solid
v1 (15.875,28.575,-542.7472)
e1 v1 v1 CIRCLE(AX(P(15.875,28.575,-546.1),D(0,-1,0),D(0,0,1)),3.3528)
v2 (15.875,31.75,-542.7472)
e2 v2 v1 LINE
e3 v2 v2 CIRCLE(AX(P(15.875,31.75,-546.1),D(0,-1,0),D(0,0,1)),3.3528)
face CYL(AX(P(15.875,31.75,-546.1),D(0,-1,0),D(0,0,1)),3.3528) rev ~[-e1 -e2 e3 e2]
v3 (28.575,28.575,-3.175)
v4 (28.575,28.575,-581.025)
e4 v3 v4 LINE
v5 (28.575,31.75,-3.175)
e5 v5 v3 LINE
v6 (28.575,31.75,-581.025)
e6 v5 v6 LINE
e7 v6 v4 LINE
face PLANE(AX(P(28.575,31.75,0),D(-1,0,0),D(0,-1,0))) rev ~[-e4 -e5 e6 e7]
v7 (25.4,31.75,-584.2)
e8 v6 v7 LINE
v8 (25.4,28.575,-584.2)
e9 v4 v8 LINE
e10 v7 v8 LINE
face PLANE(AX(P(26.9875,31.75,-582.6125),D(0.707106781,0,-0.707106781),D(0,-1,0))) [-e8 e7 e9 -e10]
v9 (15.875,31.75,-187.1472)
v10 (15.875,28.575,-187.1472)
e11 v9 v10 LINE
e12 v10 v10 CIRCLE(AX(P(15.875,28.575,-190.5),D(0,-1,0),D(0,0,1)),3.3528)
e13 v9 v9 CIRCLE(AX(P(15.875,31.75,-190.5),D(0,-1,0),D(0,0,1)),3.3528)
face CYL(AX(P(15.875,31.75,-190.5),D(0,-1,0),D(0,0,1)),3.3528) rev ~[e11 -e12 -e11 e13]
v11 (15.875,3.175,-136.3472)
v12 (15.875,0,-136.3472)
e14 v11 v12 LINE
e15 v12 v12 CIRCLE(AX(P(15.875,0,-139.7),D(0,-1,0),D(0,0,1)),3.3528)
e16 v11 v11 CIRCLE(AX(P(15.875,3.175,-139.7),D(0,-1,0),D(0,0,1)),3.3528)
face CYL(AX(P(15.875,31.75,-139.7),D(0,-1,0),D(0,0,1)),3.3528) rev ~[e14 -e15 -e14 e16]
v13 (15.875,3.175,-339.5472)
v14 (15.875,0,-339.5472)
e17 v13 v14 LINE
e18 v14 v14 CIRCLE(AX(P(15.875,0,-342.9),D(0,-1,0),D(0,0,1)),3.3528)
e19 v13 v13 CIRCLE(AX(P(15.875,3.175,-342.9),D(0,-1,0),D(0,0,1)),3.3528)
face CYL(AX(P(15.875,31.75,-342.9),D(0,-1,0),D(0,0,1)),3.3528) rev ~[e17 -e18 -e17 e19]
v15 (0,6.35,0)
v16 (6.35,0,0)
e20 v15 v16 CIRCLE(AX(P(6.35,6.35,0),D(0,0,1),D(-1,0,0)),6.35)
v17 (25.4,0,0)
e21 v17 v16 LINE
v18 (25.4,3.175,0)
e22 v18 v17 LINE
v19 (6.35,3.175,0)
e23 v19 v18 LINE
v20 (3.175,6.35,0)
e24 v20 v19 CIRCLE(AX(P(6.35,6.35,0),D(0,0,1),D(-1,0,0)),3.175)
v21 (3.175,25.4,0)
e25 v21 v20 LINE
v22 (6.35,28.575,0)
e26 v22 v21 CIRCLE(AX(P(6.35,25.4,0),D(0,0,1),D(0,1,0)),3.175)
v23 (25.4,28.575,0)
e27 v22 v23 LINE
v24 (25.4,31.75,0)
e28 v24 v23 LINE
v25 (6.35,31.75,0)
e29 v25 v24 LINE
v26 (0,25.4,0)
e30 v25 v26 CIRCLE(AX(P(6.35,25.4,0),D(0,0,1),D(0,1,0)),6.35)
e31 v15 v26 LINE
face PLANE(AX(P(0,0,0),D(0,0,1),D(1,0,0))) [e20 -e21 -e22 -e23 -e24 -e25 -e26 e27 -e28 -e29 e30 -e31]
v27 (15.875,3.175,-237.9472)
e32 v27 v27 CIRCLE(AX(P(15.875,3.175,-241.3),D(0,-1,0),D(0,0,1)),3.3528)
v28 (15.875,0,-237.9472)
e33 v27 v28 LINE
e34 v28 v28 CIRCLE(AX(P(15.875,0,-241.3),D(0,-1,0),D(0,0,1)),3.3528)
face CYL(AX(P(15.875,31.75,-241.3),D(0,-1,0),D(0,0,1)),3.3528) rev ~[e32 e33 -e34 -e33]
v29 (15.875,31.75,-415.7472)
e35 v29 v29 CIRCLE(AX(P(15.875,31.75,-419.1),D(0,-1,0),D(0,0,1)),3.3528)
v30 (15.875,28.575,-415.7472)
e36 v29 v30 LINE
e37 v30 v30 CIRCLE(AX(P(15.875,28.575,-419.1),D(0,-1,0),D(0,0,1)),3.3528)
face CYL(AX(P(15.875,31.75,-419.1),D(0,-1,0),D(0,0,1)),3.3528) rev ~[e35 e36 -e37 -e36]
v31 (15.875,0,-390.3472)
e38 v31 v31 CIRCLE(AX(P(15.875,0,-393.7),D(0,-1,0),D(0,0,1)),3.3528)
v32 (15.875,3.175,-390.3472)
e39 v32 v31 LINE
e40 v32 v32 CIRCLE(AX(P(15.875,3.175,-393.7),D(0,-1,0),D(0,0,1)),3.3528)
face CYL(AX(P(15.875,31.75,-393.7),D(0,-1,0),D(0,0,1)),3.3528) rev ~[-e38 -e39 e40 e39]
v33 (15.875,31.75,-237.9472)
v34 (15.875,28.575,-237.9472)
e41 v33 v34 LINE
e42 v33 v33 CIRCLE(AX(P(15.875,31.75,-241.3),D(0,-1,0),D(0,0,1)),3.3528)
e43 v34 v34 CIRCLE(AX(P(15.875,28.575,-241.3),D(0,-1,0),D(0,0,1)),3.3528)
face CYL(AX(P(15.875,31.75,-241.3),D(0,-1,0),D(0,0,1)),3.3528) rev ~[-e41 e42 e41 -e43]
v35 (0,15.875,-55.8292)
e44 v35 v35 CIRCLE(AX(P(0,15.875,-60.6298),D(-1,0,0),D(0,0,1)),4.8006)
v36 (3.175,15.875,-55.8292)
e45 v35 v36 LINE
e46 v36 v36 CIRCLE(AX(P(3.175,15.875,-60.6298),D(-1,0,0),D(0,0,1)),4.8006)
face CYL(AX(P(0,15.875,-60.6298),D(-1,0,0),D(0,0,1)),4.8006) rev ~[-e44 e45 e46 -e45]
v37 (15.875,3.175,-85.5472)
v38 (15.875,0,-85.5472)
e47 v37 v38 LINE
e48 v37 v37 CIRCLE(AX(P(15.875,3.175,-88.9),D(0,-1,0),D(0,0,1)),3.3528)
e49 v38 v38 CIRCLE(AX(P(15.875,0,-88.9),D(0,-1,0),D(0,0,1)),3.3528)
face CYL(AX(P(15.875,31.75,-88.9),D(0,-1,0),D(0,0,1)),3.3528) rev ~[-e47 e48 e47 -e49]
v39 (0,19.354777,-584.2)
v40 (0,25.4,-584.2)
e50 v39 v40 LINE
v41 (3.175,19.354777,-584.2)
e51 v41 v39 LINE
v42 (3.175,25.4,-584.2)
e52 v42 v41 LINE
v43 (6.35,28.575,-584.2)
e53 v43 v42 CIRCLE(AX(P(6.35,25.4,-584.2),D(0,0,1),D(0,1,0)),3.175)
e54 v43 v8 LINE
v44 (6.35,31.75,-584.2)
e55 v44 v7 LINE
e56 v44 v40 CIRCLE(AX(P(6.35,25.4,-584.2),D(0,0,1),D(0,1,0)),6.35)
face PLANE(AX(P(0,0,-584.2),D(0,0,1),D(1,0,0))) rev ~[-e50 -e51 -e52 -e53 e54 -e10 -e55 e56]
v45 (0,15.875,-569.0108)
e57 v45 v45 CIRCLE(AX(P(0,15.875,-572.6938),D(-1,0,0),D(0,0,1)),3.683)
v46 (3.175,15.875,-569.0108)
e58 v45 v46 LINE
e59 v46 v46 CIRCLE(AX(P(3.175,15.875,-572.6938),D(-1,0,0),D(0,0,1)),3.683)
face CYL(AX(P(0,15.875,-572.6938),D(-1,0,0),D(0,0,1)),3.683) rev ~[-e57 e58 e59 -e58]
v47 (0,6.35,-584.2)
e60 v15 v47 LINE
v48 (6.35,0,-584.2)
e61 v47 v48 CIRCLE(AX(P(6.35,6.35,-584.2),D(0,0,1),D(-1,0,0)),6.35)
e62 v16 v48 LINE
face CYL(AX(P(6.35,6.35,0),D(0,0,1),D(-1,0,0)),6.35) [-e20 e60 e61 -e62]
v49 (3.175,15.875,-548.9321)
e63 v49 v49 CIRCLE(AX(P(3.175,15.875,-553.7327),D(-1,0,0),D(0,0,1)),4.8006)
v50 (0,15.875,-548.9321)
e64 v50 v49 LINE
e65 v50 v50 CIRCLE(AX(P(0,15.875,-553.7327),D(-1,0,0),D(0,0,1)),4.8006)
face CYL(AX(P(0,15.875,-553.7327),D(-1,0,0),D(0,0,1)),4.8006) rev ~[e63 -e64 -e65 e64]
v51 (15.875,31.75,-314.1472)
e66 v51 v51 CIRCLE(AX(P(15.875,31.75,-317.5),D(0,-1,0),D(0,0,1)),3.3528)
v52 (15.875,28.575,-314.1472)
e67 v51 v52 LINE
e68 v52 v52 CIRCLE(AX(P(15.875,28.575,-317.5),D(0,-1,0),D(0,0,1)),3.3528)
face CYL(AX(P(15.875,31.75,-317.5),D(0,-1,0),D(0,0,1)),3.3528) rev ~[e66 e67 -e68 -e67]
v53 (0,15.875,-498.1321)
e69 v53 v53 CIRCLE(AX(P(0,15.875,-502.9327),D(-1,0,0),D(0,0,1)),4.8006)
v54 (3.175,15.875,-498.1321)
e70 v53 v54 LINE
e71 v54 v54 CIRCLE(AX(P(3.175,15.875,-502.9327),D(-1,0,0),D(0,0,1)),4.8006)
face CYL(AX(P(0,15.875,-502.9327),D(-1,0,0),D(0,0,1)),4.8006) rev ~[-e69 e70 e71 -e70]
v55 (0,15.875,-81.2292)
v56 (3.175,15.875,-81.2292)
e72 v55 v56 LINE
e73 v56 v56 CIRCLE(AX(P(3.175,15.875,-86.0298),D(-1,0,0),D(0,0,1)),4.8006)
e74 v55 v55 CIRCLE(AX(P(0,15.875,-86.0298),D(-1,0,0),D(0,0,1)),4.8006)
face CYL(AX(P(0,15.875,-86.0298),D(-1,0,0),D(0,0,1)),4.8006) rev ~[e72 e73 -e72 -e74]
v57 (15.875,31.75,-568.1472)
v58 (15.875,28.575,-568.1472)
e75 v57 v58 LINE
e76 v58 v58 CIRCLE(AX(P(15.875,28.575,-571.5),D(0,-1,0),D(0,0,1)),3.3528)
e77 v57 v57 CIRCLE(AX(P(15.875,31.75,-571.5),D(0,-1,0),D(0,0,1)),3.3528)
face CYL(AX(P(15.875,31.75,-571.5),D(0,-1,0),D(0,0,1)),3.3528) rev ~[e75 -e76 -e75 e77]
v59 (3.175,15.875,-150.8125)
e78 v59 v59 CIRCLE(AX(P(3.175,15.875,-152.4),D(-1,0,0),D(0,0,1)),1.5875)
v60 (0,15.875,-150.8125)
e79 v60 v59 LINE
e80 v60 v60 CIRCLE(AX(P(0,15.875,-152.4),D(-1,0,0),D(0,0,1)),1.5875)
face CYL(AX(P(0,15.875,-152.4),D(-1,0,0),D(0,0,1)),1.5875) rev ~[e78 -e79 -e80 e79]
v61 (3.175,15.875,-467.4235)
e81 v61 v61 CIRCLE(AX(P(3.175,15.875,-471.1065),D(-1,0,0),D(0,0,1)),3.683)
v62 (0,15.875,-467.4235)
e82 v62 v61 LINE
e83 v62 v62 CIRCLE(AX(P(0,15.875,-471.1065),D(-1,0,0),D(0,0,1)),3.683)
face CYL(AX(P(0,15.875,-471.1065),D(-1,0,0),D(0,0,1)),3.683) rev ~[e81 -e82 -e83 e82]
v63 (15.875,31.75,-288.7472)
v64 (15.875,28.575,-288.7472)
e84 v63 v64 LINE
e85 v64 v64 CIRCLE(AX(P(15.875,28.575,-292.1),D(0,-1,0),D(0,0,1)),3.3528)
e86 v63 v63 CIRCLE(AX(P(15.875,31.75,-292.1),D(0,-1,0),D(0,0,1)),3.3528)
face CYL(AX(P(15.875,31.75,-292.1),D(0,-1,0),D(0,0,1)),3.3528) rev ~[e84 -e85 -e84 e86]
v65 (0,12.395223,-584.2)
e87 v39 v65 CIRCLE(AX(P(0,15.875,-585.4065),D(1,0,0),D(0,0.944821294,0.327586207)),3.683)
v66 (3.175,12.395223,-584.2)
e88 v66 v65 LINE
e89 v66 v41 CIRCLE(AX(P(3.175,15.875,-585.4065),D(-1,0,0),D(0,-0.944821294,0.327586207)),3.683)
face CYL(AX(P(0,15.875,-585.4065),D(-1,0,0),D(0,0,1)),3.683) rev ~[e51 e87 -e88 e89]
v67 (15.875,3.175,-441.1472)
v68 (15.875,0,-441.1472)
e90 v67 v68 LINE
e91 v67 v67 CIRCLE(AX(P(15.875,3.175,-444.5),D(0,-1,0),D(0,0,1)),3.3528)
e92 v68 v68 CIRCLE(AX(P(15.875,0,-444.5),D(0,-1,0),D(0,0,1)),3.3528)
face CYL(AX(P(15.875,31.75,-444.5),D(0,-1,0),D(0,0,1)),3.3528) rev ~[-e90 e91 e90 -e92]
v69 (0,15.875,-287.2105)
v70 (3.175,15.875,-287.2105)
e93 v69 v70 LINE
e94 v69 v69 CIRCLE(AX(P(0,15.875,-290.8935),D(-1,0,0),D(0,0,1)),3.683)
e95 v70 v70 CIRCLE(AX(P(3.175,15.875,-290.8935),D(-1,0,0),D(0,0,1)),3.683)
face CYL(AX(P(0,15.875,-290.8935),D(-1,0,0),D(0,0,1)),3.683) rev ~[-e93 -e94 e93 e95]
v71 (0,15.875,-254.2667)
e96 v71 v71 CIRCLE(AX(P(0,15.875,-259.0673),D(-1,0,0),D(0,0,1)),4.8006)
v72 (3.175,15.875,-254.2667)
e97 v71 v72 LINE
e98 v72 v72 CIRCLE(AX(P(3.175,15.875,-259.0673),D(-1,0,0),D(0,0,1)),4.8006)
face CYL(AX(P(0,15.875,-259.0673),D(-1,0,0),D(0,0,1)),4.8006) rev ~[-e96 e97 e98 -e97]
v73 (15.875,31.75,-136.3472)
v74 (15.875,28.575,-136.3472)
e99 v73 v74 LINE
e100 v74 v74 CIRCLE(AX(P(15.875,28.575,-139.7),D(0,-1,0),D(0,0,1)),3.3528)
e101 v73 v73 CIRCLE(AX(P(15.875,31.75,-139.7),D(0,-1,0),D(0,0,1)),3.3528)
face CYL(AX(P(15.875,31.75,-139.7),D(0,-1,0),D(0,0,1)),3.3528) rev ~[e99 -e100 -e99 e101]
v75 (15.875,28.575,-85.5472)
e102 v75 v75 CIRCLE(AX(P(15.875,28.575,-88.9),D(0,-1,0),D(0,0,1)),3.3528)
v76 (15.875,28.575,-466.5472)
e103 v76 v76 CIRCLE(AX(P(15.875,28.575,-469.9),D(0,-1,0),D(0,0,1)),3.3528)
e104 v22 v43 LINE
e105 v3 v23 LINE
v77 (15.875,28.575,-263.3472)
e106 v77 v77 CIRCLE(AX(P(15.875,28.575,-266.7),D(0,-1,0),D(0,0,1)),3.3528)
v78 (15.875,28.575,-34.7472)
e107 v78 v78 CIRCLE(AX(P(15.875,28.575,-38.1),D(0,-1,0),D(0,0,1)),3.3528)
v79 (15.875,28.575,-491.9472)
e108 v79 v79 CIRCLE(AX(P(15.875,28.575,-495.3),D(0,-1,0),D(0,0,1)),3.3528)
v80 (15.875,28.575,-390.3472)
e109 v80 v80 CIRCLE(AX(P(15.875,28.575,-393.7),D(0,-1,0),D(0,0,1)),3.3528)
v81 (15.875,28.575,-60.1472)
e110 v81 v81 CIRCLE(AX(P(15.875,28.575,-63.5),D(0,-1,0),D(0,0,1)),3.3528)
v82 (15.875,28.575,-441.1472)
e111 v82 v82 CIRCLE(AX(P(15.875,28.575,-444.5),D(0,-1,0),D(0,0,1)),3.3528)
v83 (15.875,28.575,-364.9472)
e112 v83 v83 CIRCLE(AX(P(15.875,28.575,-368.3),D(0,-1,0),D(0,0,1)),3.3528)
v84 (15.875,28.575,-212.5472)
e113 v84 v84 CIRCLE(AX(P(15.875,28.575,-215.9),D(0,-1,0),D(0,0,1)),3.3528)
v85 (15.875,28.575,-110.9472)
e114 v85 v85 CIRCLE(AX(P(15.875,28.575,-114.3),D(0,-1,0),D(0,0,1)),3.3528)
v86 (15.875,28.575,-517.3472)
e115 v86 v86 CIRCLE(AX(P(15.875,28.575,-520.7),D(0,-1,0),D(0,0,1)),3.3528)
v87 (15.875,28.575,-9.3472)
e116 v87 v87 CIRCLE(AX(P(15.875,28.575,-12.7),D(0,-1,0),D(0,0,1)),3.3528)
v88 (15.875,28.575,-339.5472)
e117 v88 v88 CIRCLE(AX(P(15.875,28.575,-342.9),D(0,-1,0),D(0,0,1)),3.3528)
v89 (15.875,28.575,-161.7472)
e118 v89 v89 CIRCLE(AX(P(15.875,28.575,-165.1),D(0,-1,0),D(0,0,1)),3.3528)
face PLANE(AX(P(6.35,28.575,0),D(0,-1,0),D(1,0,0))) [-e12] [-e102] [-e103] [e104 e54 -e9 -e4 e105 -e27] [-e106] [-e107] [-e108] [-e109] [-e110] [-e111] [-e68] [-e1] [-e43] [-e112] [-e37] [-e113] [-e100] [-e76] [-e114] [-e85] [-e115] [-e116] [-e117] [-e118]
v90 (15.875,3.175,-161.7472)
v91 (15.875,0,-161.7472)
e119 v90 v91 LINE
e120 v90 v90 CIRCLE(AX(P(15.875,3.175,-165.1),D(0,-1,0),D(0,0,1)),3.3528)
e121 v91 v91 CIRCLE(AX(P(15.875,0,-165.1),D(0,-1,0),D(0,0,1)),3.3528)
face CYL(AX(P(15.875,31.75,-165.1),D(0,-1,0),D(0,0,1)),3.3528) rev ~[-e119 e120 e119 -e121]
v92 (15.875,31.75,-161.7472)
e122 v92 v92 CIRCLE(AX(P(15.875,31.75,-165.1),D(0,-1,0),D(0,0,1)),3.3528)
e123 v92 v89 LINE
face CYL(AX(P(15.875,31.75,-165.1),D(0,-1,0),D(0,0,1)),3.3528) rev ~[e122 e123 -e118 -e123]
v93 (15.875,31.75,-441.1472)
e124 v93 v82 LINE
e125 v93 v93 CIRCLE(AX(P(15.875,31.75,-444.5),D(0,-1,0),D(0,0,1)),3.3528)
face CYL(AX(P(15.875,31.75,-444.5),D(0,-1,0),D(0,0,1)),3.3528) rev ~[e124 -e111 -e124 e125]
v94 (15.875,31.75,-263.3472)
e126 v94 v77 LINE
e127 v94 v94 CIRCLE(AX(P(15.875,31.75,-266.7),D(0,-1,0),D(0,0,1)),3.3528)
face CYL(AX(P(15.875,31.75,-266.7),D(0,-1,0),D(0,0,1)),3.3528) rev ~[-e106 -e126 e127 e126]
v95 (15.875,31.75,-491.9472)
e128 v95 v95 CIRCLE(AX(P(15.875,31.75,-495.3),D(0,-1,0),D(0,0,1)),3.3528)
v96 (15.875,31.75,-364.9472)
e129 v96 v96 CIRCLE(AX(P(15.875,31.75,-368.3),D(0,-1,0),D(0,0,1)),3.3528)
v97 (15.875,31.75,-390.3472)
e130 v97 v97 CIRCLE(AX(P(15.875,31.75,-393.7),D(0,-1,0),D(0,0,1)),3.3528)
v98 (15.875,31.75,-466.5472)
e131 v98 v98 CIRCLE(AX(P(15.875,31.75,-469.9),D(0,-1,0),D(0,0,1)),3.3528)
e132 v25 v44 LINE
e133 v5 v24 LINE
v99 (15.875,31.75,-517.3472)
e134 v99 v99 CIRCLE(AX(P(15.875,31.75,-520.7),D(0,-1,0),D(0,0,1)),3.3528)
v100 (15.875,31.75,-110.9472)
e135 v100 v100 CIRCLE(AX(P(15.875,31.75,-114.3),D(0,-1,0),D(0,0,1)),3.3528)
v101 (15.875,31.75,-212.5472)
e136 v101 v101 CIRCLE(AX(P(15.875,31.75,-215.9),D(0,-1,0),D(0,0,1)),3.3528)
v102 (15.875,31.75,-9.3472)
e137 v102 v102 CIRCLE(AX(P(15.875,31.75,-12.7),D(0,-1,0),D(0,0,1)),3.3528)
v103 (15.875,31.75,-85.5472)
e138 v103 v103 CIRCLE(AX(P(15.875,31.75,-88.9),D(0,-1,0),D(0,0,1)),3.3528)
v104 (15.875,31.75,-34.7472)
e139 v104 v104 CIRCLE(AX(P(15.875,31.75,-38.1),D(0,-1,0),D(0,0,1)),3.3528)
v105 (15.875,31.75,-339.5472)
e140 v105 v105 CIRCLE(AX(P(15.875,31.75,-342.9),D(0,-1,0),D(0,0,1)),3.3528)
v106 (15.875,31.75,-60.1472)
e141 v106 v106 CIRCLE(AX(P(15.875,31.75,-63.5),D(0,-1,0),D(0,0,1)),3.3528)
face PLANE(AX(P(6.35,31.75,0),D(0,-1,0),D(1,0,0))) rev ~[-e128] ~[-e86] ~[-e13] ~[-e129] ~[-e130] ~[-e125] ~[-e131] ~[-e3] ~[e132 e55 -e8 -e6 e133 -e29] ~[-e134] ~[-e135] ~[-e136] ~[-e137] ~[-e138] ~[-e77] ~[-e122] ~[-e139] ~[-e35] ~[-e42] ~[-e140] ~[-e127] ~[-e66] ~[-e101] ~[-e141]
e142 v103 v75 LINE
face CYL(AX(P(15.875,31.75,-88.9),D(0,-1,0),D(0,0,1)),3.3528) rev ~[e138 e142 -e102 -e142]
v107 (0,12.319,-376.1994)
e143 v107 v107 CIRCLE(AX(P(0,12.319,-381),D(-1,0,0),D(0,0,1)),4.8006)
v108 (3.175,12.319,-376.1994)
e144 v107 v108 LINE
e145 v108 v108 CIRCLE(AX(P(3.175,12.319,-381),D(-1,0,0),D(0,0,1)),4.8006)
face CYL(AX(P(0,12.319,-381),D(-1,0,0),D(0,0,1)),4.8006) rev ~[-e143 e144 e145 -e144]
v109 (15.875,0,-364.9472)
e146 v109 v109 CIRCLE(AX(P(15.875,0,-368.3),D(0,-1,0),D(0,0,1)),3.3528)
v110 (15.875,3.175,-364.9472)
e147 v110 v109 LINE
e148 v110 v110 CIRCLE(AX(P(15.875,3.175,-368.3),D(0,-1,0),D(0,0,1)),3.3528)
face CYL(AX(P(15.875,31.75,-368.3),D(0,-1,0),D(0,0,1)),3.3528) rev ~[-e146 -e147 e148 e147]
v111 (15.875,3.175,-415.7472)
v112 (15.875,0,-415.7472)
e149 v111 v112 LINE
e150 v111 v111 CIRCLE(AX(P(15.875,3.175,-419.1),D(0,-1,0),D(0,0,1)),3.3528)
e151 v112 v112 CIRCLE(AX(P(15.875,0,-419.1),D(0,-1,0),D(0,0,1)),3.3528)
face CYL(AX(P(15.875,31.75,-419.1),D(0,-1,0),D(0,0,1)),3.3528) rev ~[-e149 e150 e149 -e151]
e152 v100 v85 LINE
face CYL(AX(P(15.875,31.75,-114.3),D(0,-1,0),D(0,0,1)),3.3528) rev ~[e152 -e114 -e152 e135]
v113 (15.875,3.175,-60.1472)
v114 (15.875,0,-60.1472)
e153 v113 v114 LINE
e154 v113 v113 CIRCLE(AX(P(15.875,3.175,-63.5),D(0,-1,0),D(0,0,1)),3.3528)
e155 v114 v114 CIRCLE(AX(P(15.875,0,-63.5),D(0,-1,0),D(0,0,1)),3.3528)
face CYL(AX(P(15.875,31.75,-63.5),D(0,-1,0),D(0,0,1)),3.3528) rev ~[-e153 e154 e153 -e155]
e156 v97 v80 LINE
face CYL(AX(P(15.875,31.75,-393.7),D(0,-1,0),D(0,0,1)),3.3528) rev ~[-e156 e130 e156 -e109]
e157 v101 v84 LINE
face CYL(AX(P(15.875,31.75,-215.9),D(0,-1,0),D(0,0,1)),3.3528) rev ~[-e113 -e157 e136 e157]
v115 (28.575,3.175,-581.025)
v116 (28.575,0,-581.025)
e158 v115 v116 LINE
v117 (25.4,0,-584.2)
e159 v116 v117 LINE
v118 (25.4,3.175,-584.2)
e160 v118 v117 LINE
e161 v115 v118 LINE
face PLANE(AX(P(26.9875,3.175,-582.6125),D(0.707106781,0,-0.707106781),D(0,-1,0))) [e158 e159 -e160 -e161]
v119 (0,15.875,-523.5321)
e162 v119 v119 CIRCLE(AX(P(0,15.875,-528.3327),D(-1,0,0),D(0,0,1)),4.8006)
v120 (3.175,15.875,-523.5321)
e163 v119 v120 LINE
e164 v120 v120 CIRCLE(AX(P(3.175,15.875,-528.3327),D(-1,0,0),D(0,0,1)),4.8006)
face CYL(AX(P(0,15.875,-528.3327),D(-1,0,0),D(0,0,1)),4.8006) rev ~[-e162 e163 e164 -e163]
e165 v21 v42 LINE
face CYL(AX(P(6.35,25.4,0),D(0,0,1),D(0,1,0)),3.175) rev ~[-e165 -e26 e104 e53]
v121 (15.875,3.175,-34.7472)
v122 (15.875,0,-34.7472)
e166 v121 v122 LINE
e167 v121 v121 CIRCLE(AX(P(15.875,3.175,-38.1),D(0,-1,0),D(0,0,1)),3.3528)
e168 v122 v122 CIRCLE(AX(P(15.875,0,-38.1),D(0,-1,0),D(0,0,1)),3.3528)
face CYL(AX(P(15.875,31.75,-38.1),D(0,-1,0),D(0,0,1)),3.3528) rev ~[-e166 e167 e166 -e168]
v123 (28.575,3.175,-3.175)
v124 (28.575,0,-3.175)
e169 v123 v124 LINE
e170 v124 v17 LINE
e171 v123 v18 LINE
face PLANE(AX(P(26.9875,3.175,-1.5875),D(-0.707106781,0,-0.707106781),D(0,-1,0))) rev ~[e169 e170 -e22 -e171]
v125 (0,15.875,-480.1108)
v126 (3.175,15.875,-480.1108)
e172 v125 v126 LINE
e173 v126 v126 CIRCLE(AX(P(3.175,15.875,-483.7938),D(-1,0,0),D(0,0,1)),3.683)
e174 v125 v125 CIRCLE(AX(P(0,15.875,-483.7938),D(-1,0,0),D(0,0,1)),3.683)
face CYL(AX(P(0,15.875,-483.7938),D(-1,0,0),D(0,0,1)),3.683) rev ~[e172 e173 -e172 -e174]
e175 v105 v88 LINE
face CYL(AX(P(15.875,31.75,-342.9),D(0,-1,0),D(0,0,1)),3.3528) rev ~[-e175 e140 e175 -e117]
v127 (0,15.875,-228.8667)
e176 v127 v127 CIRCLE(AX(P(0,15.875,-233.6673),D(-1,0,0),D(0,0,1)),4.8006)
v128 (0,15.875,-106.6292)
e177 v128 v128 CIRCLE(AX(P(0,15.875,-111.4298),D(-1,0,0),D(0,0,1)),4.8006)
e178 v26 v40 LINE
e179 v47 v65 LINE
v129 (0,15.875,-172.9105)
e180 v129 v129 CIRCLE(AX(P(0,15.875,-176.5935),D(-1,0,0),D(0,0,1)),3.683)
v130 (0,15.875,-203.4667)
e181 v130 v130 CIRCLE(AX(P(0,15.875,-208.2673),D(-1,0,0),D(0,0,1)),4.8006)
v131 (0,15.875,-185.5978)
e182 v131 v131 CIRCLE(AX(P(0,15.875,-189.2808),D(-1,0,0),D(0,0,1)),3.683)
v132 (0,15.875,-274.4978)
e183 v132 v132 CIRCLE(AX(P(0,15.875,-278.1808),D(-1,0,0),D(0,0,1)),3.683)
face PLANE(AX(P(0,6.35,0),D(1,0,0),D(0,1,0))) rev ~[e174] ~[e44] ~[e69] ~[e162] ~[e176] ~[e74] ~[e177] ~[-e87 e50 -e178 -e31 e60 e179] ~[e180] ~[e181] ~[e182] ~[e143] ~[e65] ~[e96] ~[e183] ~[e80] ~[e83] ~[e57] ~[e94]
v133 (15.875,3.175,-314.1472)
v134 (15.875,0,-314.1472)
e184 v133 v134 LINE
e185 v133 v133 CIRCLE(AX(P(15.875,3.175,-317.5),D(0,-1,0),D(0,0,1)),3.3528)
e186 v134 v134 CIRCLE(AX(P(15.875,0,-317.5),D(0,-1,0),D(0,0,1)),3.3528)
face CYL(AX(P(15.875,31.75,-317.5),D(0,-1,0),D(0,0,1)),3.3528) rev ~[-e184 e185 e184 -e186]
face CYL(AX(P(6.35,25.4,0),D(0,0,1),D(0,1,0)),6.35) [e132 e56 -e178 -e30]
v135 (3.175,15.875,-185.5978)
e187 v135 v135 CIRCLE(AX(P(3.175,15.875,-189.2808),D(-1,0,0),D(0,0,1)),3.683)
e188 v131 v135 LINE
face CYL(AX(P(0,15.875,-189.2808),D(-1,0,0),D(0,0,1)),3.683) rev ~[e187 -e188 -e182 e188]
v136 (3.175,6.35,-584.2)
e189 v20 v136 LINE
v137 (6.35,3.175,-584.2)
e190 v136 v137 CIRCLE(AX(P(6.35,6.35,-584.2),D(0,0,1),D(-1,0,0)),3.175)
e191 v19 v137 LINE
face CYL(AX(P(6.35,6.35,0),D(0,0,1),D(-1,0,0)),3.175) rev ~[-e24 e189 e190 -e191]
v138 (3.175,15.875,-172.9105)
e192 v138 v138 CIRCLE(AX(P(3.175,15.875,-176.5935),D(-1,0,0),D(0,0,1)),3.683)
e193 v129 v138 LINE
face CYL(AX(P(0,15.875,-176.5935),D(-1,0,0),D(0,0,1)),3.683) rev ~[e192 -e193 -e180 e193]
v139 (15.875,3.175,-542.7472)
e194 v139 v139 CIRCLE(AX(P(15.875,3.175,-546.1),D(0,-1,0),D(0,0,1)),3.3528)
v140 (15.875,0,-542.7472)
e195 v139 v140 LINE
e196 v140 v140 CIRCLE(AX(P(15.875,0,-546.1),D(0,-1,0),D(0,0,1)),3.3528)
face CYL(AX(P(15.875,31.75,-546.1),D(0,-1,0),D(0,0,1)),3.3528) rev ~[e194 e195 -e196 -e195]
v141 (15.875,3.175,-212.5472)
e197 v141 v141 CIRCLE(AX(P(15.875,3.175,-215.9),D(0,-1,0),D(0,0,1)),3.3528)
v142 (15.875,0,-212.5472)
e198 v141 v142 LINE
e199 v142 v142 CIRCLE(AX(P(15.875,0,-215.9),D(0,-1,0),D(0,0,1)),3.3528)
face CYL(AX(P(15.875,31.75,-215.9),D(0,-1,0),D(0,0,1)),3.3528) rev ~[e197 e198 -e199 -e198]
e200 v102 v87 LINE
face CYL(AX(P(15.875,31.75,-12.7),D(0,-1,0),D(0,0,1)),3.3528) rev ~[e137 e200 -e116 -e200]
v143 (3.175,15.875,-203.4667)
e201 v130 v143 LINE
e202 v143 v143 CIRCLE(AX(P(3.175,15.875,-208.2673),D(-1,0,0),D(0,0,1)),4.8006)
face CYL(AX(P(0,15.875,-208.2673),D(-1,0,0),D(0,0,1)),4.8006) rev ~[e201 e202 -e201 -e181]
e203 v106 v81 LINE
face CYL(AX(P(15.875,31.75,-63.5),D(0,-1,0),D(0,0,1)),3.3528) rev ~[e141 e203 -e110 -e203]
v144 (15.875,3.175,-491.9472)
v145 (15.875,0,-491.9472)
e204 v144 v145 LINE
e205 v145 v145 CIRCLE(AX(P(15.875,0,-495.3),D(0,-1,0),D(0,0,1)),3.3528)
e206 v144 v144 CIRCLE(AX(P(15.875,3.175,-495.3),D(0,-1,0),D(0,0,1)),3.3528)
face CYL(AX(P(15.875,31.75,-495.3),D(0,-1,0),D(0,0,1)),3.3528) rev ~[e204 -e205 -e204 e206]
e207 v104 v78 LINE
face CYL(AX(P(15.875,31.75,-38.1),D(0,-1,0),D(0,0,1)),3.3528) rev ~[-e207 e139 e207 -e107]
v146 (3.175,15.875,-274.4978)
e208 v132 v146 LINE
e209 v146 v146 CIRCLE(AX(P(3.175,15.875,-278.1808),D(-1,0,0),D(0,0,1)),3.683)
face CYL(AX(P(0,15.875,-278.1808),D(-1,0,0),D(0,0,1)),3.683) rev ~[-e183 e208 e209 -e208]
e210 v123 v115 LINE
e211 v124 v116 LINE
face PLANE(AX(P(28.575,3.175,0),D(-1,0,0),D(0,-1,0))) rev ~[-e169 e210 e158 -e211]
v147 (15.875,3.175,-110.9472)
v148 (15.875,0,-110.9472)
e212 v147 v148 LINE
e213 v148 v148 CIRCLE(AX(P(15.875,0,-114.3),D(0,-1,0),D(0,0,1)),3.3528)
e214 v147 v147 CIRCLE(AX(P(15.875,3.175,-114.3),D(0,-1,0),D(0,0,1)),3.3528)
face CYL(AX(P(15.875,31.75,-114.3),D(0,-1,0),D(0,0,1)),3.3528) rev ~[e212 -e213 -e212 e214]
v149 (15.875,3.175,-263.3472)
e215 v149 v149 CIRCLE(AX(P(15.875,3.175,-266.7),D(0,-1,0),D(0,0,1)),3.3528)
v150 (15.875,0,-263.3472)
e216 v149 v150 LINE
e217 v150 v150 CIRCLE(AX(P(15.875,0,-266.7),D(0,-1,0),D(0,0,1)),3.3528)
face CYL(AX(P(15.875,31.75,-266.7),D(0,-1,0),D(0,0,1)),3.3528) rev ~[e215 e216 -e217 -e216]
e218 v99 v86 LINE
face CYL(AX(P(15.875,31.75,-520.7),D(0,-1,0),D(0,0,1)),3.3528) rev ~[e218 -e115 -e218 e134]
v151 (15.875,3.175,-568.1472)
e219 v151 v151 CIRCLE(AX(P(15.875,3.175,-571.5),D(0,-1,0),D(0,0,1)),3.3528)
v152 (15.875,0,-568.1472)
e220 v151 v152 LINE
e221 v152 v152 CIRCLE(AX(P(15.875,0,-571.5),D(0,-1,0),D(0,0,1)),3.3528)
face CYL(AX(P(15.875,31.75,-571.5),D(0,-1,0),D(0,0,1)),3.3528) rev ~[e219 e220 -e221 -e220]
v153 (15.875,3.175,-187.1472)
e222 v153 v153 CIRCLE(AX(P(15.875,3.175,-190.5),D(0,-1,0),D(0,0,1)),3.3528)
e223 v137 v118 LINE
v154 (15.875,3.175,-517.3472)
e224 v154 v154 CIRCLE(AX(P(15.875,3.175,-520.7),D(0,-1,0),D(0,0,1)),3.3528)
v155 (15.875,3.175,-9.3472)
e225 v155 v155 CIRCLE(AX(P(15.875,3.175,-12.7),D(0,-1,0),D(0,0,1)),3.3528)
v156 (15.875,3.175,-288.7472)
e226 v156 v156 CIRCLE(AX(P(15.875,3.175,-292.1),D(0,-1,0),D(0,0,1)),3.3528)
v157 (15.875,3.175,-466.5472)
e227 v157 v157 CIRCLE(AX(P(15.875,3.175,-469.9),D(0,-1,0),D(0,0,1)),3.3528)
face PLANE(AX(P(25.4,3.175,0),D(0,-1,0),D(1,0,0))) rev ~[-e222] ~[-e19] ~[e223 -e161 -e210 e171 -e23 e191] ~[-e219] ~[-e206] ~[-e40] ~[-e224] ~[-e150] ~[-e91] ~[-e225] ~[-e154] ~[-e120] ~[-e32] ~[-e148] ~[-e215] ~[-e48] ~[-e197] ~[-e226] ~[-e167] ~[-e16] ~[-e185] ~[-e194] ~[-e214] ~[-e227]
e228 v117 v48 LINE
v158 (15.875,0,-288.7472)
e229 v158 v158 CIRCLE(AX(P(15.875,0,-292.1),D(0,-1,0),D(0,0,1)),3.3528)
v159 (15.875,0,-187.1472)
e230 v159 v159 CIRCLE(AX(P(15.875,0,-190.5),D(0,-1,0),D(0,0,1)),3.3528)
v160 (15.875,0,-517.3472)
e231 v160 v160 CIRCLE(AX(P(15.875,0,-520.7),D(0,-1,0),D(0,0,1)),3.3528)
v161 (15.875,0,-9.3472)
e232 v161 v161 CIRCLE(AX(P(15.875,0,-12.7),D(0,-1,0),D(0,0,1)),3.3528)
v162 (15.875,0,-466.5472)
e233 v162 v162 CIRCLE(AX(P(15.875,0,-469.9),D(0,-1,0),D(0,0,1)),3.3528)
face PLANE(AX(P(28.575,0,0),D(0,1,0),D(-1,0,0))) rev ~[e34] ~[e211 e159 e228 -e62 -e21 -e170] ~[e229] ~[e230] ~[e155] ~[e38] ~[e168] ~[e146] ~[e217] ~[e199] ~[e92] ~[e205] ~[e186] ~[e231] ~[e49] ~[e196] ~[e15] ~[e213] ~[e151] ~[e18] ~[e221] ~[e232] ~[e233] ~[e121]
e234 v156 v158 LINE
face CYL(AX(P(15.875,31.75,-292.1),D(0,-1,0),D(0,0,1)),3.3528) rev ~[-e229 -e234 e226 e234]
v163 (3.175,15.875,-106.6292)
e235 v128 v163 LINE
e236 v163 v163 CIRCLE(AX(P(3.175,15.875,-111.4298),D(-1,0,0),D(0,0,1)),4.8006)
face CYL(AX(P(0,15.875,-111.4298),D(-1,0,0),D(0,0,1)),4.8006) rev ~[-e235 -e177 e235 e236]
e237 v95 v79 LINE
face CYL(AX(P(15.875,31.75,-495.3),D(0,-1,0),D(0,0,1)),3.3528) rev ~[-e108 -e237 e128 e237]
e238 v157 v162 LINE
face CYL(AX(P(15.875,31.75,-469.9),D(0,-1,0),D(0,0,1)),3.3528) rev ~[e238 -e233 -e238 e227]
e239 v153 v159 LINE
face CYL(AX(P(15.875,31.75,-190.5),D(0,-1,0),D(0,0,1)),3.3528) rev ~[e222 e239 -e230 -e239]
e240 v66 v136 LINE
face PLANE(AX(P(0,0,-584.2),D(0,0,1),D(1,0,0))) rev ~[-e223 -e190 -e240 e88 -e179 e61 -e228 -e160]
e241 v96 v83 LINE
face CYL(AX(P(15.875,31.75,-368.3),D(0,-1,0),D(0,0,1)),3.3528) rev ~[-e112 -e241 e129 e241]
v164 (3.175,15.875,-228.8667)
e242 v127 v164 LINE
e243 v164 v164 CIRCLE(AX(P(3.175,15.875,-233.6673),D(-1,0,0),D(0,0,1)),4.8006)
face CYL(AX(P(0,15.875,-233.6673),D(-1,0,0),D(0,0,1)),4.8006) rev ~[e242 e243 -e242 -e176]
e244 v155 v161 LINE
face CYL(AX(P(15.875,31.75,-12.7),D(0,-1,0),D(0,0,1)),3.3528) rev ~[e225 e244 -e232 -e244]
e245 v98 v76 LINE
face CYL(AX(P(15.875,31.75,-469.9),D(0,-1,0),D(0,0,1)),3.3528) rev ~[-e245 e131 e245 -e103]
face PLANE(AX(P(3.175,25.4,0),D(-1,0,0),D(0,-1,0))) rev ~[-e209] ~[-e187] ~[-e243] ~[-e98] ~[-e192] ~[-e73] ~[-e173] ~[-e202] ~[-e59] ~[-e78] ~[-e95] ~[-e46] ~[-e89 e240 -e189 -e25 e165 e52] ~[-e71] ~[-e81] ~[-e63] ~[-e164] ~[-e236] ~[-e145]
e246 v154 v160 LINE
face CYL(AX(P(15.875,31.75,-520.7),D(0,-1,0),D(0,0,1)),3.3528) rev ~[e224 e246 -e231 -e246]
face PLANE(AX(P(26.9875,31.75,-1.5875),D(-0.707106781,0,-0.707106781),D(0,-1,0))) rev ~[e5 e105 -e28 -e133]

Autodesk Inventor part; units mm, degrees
ref_plane "YZ Plane" through (0, 0, 0) normal (1, 0, 0) x (0, 1, 0)
ref_plane "XZ Plane" through (0, 0, 0) normal (0, 1, 0) x (-1, 0, 0)
ref_plane "XY Plane" through (0, 0, 0) normal (0, 0, 1) x (1, 0, 0)
sketch "Sketch1" plane through (0, 0, 0) normal (0, 0, 1) x (1, 0, 0)
  line L0 (6.35, 28.575) -> (25.4, 28.575)
  line L1 (6.35, 31.75) -> (25.4, 31.75)
  line L2 (25.4, 0) -> (6.35, 0)
  arc A0 (0, 6.35) -> (6.35, 0) centre (6.35, 6.35) ccw
  line L3 (0, 6.35) -> (0, 25.4)
  arc A1 (6.35, 31.75) -> (0, 25.4) centre (6.35, 25.4) ccw
  line L4 (6.35, 31.75) -> (25.4, 31.75)
  line L5 (25.4, 28.575) -> (6.35, 28.575)
  arc A2 (6.35, 28.575) -> (3.175, 25.4) centre (6.35, 25.4) ccw
  line L6 (3.175, 25.4) -> (3.175, 6.35)
  arc A3 (3.175, 6.35) -> (6.35, 3.175) centre (6.35, 6.35) ccw
  line L7 (6.35, 3.175) -> (25.4, 3.175)
  line L8 (28.575, 3.175) -> (28.575, 0)
  line L9 (25.4, 31.75) -> (28.575, 31.75)
  line L10 (28.575, 28.575) -> (25.4, 28.575)
  line L11 (28.575, 31.75) -> (28.575, 28.575)
  line L12 (28.575, 0) -> (25.4, 0)
  line L13 (28.575, 3.175) -> (28.575, 0)
  line L14 (25.4, 3.175) -> (28.575, 3.175)
  point P0 (0, 0)
extrude "Extrusion1" add sketch "Sketch1" against normal blind 584.2
chamfer "Chamfer1" distance 3.175 angle 45 4 edges at (28.575, 30.1625, 0) (28.575, 1.5875, 0) (28.575, 30.1625, -584.2) (28.575, 1.5875, -584.2)
sketch "Sketch2" plane through (6.35, 31.75, 0) normal (0, 1, 0) x (1, 0, 0)
  line L0 (19.05, 0) -> (0, 0) projected
  line L1 (22.225, 3.175) -> (22.225, 581.025) projected
  point P0 (-6.35, 0)
  point P1 (9.525, 12.7)
  dimension "d5" = 12.7
  dimension "d6" = 12.7
hole "Hole1" at (15.875, 31.75, -12.7) direction (0, -1, 0) diameter 6.7056 end through all
pattern_linear "Rectangular Pattern1" count 30 spacing 25.4 along (0, 0, -1) of "Hole1"
sketch "Sketch3" plane through (0, 6.35, 0) normal (-1, 0, 0) x (0, 0, 1)
  line L0 (0, 19.05) -> (-762, 19.05)
  line L1 (-762, 19.05) -> (-762, 0)
  line L2 (0, 0) -> (-762, 0)
  line L3 (0, 0) -> (0, 19.05)
  circle A0 centre (-701.3194, 9.525) radius 4.8006
  circle A1 centre (-111.4298, 9.525) radius 4.8006
  circle A2 centre (-189.2808, 9.525) radius 3.683
  circle A3 centre (-278.1808, 9.525) radius 3.683
  circle A4 centre (-483.7938, 9.525) radius 3.683
  circle A5 centre (-572.6938, 9.525) radius 3.683
  circle A6 centre (-471.1065, 9.525) radius 3.683
  circle A7 centre (-585.4065, 9.525) radius 3.683
  circle A8 centre (-290.8935, 9.525) radius 3.683
  circle A9 centre (-176.5935, 9.525) radius 3.683
  circle A10 centre (-553.7327, 9.525) radius 4.8006
  circle A11 centre (-528.3327, 9.525) radius 4.8006
  circle A12 centre (-502.9327, 9.525) radius 4.8006
  circle A13 centre (-259.0673, 9.525) radius 4.8006
  circle A14 centre (-233.6673, 9.525) radius 4.8006
  circle A15 centre (-208.2673, 9.525) radius 4.8006
  circle A16 centre (-609.6, 9.525) radius 1.5875
  circle A17 centre (-152.4, 9.525) radius 1.5875
  circle A18 centre (-381, 5.969) radius 4.8006
  circle A19 centre (-86.0298, 9.525) radius 4.8006
  circle A20 centre (-675.9194, 9.525) radius 4.8006
  circle A21 centre (-650.5194, 9.525) radius 4.8006
  circle A22 centre (-60.6298, 9.525) radius 4.8006
  point P0 (0, -6.35)
  point P1 (-762, -6.35)
extrude "Extrusion2" cut sketch "Sketch3" against normal up to next contours A0 | A1 | A2 | A3 | A4 | A5 | A6 | A7 | A8 | A9 | A10 | A11 | A12 | A13 | A14 | A15 | A16 | A17 | A18 | A19 | A20 | A21 | A22
properties part number "DBK_C-Channel_am-2222-23" material "Aluminum 6061"
